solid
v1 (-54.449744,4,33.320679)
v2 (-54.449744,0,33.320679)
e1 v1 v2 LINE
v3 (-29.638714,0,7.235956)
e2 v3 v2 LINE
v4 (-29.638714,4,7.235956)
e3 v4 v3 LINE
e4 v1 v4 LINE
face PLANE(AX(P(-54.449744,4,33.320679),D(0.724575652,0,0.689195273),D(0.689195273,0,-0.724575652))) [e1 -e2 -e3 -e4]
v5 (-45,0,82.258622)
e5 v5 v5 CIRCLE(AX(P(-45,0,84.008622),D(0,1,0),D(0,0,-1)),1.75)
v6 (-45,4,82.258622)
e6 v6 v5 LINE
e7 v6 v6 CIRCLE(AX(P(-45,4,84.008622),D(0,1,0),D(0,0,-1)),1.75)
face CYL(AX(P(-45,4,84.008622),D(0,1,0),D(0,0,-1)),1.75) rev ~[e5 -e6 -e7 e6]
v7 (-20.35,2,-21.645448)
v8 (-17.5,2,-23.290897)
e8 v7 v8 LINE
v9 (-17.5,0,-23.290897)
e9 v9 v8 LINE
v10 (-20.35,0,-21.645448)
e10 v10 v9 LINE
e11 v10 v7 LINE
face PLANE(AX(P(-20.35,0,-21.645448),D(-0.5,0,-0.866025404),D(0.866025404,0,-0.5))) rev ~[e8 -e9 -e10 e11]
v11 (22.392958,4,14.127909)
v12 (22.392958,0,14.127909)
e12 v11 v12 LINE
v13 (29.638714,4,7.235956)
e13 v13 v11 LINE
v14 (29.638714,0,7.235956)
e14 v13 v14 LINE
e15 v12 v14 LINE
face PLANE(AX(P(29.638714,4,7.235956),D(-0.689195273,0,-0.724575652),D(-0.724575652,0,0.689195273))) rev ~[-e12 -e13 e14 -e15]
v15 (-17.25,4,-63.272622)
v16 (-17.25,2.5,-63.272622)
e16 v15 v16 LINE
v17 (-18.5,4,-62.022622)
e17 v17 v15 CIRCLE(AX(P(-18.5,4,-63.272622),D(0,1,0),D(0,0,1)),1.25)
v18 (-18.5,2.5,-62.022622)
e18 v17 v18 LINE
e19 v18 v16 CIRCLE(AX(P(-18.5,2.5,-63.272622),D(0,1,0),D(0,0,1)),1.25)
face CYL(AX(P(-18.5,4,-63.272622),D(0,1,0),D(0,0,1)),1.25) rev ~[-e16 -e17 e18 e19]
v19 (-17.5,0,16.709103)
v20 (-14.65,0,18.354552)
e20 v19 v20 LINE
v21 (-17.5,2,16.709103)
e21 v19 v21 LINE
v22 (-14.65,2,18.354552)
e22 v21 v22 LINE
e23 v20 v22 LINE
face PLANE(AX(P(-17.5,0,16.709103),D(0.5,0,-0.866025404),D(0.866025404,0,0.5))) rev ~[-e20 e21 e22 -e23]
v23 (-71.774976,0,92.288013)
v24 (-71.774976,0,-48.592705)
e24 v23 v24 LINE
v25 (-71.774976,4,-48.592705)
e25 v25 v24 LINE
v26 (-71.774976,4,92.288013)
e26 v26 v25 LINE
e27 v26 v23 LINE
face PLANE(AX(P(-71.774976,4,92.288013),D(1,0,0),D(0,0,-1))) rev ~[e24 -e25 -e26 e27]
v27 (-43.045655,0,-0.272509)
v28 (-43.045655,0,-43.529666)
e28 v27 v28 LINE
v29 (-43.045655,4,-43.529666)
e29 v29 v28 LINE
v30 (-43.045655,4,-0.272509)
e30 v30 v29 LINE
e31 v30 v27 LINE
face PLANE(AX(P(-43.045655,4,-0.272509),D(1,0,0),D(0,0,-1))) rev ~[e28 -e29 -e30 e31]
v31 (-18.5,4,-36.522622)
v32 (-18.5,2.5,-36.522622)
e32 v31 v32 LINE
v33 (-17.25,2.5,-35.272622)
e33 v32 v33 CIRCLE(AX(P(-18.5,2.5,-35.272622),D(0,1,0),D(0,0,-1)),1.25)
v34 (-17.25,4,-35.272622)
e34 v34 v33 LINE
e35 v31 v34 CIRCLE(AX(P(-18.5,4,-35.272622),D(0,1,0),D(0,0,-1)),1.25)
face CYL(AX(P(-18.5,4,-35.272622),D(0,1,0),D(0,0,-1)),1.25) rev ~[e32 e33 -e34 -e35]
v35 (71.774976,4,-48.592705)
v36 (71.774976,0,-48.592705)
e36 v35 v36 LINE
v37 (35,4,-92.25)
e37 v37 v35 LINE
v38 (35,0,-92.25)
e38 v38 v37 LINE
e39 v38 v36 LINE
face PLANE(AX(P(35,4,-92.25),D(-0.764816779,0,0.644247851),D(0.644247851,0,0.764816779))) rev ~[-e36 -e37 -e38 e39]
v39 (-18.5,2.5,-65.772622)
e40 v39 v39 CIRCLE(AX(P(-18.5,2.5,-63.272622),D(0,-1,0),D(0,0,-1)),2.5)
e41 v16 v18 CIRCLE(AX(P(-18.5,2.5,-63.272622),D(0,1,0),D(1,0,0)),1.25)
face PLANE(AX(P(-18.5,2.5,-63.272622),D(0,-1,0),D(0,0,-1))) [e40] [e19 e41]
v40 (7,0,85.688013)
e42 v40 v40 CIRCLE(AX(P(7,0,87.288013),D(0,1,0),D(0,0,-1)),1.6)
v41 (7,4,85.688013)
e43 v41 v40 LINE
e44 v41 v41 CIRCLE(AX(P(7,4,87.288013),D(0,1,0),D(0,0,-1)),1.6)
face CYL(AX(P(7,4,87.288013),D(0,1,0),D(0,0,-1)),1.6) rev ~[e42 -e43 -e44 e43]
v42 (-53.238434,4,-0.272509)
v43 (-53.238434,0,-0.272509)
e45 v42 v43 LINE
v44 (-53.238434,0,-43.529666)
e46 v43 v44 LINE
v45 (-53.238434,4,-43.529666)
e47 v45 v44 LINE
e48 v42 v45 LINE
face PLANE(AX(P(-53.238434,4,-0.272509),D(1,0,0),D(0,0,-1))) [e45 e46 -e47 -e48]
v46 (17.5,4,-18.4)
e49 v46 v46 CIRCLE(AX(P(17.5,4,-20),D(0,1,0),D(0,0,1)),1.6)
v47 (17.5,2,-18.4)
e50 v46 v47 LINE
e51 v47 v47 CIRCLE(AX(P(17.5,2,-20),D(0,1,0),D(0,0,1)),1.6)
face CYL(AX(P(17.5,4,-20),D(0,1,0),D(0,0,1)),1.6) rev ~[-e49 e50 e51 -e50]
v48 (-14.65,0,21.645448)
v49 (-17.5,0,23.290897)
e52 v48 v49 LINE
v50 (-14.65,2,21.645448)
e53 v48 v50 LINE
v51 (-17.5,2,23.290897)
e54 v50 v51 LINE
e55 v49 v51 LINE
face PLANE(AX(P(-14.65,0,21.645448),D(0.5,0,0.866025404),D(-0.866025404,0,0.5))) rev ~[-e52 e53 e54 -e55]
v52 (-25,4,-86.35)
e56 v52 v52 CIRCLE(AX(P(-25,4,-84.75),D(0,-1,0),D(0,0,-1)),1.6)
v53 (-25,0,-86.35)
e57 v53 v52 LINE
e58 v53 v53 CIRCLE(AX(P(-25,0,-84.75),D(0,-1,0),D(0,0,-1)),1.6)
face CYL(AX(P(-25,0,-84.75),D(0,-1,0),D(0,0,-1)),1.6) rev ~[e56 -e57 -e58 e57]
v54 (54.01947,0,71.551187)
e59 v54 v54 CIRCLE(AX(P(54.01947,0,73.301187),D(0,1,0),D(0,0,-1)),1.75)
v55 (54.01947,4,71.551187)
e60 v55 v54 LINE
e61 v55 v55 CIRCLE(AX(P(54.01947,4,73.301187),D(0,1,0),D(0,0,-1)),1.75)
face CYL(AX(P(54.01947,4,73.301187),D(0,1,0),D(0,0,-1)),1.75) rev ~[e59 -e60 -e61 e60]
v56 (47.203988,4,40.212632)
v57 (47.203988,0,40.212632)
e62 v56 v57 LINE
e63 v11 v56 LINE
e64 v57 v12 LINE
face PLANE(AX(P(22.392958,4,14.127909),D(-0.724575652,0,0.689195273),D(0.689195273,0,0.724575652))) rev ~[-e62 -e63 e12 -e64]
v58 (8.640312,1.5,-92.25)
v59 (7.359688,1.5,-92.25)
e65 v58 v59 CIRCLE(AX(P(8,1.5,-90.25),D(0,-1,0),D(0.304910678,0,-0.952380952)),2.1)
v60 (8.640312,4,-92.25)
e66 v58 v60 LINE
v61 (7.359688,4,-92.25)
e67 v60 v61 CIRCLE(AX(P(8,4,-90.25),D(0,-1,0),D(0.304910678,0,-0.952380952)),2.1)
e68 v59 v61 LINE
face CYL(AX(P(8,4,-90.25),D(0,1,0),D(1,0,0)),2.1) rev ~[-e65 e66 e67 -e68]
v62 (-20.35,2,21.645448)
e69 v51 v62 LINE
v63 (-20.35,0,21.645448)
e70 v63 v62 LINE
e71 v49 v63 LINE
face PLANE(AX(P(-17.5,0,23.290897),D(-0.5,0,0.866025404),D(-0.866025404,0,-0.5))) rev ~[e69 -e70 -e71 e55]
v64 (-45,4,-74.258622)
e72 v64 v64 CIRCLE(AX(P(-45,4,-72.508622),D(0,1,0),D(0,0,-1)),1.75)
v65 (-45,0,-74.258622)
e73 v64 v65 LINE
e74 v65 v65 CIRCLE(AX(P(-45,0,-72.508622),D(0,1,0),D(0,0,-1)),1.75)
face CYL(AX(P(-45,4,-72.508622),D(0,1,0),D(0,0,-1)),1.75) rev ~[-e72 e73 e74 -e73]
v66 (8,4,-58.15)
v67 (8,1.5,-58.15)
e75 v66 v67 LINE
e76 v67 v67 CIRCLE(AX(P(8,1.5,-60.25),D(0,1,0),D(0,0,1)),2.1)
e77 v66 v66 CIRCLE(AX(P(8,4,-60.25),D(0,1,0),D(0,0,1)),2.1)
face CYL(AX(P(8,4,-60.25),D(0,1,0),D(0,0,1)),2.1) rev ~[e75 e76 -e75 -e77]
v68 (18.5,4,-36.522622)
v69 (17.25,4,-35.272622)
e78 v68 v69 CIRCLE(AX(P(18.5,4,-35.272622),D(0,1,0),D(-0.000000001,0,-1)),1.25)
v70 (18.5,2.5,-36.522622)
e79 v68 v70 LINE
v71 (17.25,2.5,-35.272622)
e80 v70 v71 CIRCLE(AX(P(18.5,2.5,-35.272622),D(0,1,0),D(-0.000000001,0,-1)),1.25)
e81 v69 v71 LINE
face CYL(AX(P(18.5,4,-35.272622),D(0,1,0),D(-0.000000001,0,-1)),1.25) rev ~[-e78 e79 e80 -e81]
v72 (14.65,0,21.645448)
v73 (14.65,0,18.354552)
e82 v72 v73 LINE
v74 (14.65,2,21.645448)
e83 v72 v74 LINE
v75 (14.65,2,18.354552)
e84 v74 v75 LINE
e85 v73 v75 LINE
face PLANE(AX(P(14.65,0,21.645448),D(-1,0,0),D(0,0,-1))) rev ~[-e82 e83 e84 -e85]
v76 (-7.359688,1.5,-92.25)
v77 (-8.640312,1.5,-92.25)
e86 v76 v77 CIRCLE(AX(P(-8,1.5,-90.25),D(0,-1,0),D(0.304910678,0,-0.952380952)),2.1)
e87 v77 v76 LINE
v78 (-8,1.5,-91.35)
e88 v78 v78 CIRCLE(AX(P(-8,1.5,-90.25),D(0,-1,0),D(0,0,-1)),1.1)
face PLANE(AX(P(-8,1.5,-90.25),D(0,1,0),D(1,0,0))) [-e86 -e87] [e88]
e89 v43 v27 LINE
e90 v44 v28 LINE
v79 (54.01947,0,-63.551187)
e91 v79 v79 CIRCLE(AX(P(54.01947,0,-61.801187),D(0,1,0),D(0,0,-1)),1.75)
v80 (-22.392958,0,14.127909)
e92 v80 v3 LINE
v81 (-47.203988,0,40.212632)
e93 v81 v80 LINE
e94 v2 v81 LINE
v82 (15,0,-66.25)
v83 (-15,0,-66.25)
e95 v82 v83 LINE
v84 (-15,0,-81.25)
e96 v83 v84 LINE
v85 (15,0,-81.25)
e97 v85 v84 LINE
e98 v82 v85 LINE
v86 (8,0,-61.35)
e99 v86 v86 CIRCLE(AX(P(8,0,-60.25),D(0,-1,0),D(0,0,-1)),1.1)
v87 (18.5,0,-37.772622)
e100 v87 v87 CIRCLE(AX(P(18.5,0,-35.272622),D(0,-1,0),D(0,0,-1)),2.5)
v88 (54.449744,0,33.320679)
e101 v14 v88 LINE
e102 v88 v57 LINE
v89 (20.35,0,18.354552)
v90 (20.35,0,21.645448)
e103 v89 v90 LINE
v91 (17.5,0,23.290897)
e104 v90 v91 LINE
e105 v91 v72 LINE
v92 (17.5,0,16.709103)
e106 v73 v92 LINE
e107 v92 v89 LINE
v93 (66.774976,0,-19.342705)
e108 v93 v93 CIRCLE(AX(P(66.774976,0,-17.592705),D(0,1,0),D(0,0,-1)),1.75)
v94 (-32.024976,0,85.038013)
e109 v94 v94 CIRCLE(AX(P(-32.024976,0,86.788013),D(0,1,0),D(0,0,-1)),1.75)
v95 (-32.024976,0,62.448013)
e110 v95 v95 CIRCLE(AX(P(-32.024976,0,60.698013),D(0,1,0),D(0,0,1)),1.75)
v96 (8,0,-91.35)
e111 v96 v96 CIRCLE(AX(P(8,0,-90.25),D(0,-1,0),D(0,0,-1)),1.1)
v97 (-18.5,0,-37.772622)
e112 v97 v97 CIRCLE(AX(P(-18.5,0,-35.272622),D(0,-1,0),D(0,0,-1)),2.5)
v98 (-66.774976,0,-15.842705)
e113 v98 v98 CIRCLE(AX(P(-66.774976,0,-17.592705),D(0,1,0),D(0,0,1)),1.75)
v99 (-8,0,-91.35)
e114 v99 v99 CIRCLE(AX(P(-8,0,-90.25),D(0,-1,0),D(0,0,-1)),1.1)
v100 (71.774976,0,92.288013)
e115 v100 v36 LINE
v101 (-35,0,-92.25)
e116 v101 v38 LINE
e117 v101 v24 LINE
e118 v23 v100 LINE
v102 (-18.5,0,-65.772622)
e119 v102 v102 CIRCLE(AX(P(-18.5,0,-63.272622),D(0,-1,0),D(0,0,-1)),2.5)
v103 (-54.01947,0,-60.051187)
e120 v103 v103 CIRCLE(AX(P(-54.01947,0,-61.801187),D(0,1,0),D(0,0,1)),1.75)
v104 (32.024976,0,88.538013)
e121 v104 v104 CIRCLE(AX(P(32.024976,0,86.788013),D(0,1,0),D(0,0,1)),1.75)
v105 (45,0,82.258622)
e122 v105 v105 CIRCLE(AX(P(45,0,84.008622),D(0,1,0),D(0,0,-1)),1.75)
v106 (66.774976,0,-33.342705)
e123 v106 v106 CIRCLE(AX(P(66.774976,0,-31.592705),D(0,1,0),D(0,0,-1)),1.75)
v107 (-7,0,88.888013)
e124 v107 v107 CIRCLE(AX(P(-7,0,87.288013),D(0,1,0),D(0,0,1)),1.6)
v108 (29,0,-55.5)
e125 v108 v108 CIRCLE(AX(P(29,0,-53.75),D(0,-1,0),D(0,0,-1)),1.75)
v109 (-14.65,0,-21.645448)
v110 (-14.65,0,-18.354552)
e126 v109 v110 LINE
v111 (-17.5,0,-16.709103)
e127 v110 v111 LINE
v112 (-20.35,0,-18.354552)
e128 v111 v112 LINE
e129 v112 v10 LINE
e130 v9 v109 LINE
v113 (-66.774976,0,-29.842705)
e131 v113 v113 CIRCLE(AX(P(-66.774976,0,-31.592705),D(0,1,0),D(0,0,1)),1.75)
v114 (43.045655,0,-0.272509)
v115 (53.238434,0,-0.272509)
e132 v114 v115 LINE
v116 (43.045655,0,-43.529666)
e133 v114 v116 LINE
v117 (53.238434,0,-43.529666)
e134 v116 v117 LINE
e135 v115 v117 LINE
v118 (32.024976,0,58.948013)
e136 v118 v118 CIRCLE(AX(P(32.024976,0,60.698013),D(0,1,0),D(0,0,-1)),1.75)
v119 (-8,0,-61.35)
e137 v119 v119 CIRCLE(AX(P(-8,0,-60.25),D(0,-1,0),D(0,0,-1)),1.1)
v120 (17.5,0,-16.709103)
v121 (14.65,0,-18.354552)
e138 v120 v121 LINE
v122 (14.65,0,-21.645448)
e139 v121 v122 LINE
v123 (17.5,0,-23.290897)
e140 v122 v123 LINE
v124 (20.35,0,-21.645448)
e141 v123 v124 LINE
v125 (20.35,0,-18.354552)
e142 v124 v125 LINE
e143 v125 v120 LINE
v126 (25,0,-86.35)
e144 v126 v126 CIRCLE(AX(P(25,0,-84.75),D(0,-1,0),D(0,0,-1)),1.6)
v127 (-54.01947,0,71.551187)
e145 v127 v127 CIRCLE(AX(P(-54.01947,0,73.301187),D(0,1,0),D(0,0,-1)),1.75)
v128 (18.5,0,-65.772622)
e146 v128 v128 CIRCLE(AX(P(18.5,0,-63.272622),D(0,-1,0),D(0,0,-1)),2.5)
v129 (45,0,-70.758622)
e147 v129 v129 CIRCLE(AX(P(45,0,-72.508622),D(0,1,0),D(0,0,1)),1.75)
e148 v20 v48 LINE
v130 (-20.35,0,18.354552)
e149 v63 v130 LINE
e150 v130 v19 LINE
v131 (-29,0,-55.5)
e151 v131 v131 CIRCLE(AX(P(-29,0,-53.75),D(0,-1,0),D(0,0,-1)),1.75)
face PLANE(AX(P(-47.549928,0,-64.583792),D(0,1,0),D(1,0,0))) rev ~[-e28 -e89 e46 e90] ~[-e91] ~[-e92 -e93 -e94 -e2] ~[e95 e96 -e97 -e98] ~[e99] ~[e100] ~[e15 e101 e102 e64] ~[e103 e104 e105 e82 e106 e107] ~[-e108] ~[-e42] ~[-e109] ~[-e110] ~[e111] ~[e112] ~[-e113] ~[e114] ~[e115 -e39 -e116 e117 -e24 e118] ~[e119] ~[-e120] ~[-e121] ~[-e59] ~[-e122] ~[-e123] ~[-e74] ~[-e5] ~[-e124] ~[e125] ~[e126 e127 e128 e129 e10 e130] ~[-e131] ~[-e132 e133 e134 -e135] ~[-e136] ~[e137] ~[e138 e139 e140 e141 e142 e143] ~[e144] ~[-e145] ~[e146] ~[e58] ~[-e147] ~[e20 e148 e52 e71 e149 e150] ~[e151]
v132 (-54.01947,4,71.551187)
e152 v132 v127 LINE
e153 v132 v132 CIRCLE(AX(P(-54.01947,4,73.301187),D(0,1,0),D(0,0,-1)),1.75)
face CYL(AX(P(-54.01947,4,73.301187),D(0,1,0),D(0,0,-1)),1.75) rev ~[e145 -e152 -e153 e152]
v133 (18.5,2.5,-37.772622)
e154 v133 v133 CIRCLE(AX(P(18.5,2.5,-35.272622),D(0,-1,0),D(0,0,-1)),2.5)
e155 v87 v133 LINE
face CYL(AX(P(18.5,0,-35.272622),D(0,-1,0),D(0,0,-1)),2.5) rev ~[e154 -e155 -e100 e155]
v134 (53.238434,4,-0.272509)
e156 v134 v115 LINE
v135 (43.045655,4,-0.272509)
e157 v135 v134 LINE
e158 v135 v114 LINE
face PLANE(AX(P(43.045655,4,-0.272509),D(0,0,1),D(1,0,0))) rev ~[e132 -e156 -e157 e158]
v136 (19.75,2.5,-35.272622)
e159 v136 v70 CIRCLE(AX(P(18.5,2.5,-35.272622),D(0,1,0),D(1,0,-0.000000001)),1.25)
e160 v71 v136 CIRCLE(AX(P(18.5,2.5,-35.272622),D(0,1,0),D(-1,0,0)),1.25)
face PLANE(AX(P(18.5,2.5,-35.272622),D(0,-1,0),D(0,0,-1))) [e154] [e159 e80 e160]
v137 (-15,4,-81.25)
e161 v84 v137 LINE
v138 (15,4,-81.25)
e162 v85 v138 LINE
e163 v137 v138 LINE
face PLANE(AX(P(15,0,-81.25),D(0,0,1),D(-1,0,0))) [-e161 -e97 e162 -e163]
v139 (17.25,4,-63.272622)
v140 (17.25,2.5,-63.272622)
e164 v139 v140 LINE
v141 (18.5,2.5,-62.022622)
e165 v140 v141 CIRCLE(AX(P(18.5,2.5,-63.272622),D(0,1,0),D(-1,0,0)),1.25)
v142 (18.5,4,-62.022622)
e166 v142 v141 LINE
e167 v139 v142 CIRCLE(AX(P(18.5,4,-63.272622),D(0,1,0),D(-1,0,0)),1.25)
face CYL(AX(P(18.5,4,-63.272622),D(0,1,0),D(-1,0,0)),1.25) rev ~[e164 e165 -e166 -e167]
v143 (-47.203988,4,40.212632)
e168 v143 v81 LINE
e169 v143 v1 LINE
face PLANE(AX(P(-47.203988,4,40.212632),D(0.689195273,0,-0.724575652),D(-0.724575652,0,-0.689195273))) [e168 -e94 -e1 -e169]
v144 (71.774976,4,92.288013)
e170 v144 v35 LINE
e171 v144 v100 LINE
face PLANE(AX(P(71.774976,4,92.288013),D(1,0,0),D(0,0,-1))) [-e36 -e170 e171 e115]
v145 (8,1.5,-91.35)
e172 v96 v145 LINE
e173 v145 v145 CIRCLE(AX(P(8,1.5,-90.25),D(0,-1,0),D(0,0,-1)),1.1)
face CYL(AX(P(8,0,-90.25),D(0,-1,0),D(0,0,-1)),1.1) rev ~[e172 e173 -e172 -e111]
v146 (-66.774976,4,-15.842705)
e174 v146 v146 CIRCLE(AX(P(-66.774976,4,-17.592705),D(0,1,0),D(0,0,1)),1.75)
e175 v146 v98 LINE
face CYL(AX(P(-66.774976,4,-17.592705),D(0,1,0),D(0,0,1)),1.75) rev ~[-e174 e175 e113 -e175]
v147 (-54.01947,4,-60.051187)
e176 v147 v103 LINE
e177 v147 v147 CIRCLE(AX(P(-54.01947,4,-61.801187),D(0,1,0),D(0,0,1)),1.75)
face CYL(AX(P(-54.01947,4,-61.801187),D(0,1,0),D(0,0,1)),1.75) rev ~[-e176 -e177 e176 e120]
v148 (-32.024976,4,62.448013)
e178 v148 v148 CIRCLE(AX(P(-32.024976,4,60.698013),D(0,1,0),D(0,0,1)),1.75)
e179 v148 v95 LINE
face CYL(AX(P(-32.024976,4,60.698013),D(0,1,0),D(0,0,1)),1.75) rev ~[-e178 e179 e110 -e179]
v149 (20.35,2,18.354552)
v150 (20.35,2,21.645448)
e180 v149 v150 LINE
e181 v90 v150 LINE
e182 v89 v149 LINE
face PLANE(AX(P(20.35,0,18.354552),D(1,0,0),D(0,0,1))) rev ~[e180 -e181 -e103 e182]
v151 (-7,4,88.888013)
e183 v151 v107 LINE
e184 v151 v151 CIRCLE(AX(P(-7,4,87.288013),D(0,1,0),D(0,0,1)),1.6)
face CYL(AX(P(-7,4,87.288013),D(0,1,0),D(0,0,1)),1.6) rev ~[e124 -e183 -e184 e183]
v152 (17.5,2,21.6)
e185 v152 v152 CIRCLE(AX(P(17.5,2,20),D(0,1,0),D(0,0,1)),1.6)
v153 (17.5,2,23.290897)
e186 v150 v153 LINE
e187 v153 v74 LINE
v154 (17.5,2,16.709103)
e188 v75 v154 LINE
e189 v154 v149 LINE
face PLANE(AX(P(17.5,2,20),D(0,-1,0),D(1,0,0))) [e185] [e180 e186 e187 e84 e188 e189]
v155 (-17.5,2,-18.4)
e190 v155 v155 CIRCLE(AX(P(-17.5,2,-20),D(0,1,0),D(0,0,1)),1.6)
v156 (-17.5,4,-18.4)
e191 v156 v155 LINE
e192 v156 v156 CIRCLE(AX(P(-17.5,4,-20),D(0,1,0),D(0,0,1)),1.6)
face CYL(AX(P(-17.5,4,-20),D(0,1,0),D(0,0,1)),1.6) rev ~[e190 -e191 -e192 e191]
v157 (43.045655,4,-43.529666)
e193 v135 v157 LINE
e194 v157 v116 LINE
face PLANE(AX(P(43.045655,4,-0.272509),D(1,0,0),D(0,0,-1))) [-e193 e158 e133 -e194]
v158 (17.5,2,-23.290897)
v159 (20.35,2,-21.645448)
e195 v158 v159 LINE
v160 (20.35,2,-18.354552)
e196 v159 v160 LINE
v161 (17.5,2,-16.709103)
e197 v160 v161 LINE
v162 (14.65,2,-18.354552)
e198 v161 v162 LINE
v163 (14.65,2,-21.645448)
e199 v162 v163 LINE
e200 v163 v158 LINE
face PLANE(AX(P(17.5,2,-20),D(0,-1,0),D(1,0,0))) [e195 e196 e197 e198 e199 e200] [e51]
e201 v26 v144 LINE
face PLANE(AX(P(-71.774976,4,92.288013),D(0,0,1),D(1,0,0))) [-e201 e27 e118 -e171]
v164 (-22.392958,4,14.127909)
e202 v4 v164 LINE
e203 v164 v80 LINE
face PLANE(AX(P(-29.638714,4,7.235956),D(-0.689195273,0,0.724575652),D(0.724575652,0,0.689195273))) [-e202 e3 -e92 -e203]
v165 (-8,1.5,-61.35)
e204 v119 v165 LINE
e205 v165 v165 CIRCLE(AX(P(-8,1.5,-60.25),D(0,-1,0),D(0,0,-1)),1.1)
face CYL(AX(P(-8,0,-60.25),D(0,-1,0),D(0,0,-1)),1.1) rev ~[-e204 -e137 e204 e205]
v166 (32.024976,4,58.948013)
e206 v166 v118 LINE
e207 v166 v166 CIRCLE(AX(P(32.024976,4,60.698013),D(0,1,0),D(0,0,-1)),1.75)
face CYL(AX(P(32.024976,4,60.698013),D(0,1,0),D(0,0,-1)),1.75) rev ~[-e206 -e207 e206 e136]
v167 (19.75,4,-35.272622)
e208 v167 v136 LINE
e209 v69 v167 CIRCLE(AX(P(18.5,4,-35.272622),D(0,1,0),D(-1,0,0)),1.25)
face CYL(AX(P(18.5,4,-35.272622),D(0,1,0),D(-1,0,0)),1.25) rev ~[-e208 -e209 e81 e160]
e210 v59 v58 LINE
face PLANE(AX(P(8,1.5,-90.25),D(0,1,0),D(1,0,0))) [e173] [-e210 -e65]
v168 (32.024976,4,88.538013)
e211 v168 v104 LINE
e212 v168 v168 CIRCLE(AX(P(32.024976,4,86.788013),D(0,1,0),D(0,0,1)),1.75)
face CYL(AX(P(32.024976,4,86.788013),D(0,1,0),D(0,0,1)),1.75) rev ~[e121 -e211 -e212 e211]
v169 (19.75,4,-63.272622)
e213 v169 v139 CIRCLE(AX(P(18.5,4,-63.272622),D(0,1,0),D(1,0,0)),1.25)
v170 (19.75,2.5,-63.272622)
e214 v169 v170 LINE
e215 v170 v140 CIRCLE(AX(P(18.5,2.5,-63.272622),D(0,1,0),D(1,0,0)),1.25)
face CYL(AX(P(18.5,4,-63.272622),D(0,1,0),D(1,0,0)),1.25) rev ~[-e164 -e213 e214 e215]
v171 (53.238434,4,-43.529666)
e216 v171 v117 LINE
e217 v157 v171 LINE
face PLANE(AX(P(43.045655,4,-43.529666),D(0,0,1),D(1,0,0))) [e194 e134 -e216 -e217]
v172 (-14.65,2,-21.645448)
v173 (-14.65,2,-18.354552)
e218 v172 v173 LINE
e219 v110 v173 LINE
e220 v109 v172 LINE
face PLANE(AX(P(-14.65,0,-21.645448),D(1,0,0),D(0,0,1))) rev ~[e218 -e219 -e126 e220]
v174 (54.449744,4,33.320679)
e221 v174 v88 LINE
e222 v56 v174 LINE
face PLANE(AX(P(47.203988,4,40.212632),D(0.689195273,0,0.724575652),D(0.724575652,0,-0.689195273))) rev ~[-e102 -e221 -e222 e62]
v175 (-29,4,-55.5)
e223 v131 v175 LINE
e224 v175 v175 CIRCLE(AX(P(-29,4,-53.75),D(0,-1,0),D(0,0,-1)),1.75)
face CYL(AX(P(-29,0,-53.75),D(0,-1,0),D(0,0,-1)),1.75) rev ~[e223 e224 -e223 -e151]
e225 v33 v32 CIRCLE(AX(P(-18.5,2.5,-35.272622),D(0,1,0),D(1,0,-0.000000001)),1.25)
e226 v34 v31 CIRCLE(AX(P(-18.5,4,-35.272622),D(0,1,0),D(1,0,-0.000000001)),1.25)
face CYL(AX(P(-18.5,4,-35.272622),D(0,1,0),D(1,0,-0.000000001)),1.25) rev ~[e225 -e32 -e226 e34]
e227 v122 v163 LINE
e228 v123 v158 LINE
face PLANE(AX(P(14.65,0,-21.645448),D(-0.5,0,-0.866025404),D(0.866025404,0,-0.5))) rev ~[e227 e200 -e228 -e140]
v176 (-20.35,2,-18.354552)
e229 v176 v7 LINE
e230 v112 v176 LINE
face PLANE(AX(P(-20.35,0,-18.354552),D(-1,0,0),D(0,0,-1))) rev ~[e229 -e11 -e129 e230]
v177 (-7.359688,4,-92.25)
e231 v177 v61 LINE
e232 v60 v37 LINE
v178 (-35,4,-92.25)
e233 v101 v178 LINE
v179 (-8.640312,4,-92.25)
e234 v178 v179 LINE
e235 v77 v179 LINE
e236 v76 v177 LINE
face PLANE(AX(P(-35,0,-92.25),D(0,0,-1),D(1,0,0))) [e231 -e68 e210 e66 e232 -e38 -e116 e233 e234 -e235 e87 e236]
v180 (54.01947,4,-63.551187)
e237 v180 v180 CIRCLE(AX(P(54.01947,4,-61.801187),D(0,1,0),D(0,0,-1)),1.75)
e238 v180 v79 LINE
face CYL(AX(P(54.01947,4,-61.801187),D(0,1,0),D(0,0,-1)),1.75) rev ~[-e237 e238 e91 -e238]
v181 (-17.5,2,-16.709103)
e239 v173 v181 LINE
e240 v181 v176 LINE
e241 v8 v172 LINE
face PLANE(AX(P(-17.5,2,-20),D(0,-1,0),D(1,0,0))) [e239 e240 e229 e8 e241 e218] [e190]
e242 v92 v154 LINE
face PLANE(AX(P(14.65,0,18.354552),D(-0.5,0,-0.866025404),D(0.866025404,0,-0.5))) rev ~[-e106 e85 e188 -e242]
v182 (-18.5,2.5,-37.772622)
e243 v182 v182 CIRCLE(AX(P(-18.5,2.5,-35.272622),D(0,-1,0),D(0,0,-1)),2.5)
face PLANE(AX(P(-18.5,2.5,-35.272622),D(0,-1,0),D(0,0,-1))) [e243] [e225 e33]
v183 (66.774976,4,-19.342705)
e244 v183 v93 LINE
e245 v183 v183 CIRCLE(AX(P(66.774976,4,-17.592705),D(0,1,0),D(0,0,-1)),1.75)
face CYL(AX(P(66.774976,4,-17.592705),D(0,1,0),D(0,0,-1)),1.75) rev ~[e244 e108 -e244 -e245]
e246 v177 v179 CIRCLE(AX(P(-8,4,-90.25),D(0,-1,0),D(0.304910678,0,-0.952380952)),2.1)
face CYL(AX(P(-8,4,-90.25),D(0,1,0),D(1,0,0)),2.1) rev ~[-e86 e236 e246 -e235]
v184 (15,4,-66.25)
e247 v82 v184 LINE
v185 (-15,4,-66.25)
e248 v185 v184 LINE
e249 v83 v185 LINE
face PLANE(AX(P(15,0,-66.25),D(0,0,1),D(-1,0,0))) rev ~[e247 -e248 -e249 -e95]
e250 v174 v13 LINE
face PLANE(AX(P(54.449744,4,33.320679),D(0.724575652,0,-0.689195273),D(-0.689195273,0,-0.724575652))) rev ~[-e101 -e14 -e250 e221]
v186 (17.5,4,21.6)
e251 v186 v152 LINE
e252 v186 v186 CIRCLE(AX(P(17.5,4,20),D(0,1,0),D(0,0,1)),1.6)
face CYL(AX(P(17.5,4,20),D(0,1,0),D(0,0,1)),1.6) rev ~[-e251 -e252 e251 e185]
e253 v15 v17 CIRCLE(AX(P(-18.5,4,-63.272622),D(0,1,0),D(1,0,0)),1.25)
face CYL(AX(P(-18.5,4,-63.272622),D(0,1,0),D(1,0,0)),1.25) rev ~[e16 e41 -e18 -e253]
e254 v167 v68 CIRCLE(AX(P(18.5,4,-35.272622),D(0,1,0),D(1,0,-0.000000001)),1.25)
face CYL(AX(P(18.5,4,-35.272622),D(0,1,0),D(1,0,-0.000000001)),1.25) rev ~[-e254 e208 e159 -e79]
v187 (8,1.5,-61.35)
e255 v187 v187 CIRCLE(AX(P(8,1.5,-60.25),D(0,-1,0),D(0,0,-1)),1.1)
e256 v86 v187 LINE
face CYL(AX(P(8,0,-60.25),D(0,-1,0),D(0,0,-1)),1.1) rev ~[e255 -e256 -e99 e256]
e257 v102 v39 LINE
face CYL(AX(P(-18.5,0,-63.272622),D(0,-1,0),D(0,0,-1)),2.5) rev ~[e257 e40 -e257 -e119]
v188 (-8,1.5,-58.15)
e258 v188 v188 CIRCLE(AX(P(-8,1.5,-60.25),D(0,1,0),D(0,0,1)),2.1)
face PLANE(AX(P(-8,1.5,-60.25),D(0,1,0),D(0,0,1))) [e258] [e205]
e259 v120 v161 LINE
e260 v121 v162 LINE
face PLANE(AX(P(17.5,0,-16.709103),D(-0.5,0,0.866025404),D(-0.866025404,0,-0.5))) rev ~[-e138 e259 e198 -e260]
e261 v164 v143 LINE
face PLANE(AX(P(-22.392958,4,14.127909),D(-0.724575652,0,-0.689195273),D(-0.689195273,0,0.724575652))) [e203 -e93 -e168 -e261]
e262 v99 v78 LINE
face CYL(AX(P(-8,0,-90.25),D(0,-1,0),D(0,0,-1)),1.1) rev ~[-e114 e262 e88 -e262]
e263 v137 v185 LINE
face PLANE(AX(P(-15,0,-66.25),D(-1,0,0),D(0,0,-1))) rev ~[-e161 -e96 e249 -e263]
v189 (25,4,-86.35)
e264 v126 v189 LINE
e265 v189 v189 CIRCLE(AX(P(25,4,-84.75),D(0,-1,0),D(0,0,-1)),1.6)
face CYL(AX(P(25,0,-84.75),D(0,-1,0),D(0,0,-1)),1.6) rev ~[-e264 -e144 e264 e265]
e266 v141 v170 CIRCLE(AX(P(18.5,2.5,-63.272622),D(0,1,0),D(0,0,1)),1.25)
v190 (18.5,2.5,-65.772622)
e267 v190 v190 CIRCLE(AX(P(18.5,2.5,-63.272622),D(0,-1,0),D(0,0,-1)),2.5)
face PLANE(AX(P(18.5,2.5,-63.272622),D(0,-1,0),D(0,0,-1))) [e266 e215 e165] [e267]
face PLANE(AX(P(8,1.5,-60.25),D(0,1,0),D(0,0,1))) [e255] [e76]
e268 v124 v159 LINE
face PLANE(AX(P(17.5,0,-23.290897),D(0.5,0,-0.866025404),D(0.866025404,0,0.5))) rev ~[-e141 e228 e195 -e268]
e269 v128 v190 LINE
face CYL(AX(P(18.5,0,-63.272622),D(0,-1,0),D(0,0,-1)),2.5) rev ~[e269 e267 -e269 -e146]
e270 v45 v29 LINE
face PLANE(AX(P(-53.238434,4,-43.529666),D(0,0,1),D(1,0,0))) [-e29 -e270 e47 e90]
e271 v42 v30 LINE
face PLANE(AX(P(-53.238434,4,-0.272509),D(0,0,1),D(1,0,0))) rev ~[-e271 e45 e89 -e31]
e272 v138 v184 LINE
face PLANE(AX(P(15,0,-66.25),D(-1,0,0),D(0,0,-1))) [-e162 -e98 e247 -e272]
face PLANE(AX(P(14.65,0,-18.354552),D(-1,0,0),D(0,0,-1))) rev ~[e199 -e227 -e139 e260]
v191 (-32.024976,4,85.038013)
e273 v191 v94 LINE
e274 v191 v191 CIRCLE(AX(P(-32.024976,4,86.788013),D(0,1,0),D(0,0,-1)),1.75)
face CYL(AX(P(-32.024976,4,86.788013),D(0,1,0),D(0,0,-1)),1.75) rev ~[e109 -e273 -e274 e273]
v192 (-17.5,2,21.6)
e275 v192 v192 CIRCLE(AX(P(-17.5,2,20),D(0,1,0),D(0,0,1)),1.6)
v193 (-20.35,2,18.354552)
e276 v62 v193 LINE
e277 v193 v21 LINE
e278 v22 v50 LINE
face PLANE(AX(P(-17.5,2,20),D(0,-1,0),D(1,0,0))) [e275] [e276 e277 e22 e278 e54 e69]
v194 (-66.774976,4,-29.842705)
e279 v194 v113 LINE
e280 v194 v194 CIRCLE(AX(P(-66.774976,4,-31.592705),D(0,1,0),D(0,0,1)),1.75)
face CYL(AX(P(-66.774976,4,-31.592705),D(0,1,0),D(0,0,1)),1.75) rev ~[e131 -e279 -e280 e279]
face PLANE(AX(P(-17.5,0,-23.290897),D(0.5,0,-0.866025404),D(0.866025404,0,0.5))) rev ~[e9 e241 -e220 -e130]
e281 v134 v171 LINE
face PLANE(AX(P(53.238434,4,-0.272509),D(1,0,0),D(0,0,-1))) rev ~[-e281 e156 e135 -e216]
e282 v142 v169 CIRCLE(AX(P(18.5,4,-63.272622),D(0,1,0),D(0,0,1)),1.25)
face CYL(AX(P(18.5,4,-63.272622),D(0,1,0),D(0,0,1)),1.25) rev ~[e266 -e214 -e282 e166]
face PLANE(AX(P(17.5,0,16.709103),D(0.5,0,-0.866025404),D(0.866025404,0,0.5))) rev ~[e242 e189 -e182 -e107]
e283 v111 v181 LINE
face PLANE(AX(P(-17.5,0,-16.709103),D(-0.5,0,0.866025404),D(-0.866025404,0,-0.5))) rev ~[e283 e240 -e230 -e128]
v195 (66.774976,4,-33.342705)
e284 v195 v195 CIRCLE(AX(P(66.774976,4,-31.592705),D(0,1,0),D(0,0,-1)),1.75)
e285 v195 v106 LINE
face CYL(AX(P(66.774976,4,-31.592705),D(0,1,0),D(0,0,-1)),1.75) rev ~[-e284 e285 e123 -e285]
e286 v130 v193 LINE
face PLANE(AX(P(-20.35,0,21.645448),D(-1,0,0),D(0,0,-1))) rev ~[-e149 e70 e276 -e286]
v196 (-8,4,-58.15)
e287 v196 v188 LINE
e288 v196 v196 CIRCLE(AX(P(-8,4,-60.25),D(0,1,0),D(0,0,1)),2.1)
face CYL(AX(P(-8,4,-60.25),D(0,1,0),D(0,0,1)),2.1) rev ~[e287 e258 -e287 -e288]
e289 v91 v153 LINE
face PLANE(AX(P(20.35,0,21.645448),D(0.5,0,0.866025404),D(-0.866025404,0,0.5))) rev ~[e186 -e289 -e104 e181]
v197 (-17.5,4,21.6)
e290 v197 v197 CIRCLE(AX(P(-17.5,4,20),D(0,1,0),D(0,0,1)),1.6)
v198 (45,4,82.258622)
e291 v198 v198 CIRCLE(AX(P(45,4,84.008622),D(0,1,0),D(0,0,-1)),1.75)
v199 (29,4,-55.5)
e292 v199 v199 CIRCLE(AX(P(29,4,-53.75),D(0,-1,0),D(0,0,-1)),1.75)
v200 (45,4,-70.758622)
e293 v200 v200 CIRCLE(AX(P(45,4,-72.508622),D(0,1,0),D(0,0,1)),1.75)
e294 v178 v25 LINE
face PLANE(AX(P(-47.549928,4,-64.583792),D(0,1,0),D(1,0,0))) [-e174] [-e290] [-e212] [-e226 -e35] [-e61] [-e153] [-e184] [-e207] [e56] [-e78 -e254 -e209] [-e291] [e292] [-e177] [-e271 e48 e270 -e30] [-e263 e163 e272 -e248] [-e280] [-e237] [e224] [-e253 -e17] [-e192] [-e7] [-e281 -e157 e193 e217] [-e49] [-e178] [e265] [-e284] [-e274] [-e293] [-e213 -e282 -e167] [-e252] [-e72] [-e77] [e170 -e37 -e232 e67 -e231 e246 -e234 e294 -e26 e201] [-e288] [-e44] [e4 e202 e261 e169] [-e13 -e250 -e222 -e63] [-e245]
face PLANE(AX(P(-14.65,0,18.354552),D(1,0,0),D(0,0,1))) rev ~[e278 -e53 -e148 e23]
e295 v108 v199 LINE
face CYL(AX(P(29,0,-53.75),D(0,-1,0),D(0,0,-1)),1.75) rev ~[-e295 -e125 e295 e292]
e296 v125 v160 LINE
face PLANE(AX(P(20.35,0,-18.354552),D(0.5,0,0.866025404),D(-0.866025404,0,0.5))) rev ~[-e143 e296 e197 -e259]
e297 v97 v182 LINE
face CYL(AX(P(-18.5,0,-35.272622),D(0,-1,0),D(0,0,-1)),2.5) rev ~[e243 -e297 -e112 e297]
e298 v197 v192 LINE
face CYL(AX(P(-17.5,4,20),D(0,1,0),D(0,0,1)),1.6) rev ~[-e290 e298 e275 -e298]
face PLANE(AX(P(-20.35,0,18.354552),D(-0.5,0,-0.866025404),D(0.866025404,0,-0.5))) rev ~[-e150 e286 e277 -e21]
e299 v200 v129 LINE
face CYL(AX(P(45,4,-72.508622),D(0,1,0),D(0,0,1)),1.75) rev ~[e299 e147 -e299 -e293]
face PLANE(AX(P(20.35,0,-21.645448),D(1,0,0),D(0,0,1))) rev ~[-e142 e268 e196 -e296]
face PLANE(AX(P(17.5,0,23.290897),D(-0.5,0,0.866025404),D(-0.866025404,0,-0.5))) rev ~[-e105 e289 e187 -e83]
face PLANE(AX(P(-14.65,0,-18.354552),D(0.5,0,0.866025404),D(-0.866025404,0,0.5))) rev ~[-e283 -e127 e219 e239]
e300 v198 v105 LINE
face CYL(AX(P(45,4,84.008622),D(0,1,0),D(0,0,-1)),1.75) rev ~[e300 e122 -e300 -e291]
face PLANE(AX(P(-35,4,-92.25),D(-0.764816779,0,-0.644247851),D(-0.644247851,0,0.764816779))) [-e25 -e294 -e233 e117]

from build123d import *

# Parameters (mm, degrees)
SKETCH1_W           = 70
SKETCH1_H           = 184.5
BOSS_EXTRUDE1_DEPTH = 4
SKETCH2_R           = 1.6
SKETCH2_R_2         = 1.1
SKETCH2_R_3         = 1.75
SKETCH2_W           = 30
SKETCH2_H           = 15
CUT_EXTRUDE1_DEPTH  = 10
SKETCH3_W           = 143.549952052
SKETCH3_H           = 140.880717629
BOSS_EXTRUDE2_DEPTH = 4
SKETCH4_R           = 1.75
BOSS_EXTRUDE3_DEPTH = 4
SKETCH5_R           = 1.75
CUT_EXTRUDE2_DEPTH  = 6
CUT_EXTRUDE4_REACH  = 118.982
SKETCH8_R           = 2.1
CUT_EXTRUDE7_DEPTH  = 2.5
SKETCH9_R           = 1.75
CUT_EXTRUDE8_DEPTH  = 12
SKETCH10_R          = 1.75
SKETCH10_W          = 10.192778524
SKETCH10_H          = 43.257157637
CUT_EXTRUDE9_DEPTH  = 10
SKETCH11_R          = 1.6
CUT_EXTRUDE10_DEPTH = 10
CUT_EXTRUDE11_DEPTH = 2
CUT_EXTRUDE12_DEPTH = 12
SKETCH14_R          = 1.6
CUT_EXTRUDE13_DEPTH = 12
SKETCH15_R          = 2.5
CUT_EXTRUDE14_DEPTH = 2.5


with BuildPart() as part:
    # Sketch1 → Boss-Extrude1 (new body)
    with BuildSketch(Plane(origin=(0, 0, 0), x_dir=(1, 0, 0), z_dir=(0, 1, 0))):
        Rectangle(SKETCH1_W, SKETCH1_H)
    extrude(amount=BOSS_EXTRUDE1_DEPTH)

    # Sketch2 → Cut-Extrude1 (cut)
    with BuildSketch(Plane(origin=(0, 0, 0), x_dir=(-1, 0, 0), z_dir=(0, -1, 0))):
        with Locations(Location((25, 84.75, 0), (0, 0, 90))):
            Circle(SKETCH2_R)
        with Locations(Location((-25, 84.75, 0), (0, 0, 90))):
            Circle(SKETCH2_R)
        with Locations(Location((-8, 90.25, 0), (0, 0, 90))):
            Circle(SKETCH2_R_2)
        with Locations(Location((8, 90.25, 0), (0, 0, 90))):
            Circle(SKETCH2_R_2)
        with Locations(Location((-8, 60.25, 0), (0, 0, 90))):
            Circle(SKETCH2_R_2)
        with Locations(Location((8, 60.25, 0), (0, 0, 90))):
            Circle(SKETCH2_R_2)
        with Locations(Location((29, 53.75, 0), (0, 0, 90))):
            Circle(SKETCH2_R_3)
        with Locations(Location((-29, 53.75, 0), (0, 0, 90))):
            Circle(SKETCH2_R_3)
        with Locations((0, 73.75)):
            Rectangle(SKETCH2_W, SKETCH2_H)
    extrude(amount=-CUT_EXTRUDE1_DEPTH, mode=Mode.SUBTRACT)

    # Sketch3 → Boss-Extrude2 (add)
    with BuildSketch(Plane(origin=(0, 4, 0), x_dir=(1, 0, 0), z_dir=(0, 1, 0))):
        with Locations((0, -21.847654169)):
            Rectangle(SKETCH3_W, SKETCH3_H)
    extrude(amount=-BOSS_EXTRUDE2_DEPTH)

    # Sketch4 → Boss-Extrude3 (add)
    # profile 1 of 2: a face of its own
    with BuildSketch(Plane(origin=(0, 4, 0), x_dir=(1, 0, 0), z_dir=(0, 1, 0))):
        Polygon((-35, 92.25), (-71.774976026, 48.592704646), (-35, 48.592704646), align=None)
        with Locations(Location((-45, 72.508621997, 0), (0, 0, 90))):
            Circle(SKETCH4_R, mode=Mode.SUBTRACT)
        with Locations(Location((-54.019469919, 61.801187085, 0), (0, 0, 270))):
            Circle(SKETCH4_R, mode=Mode.SUBTRACT)
    # profile 2 of 2: a face of its own
    with BuildSketch(Plane(origin=(0, 4, 0), x_dir=(1, 0, 0), z_dir=(0, 1, 0))):
        Polygon((71.774976026, 48.592704646), (35, 48.592704646), (35, 92.25), align=None)
        with Locations(Location((45, 72.508621997, 0), (0, 0, 270))):
            Circle(SKETCH4_R, mode=Mode.SUBTRACT)
        with Locations(Location((54.019469919, 61.801187085, 0), (0, 0, 90))):
            Circle(SKETCH4_R, mode=Mode.SUBTRACT)
    extrude(amount=-BOSS_EXTRUDE3_DEPTH)

    # Sketch5 → Cut-Extrude2 (cut)
    with BuildSketch(Plane(origin=(0, 4, 0), x_dir=(1, 0, 0), z_dir=(0, 1, 0))):
        with Locations(Location((32.024976026, -86.788012983, 0), (0, 0, 270))):
            Circle(SKETCH5_R)
        with Locations(Location((-32.024976026, -86.788012983, 0), (0, 0, 90))):
            Circle(SKETCH5_R)
    extrude(amount=-CUT_EXTRUDE2_DEPTH, mode=Mode.SUBTRACT)

    # Sketch7 → Cut-Extrude4 (cut, up to next)
    with BuildSketch(Plane(origin=(0, 4, 0), x_dir=(1, 0, 0), z_dir=(0, 1, 0)), mode=Mode.PRIVATE) as cut_extrude4_sk1:
        Polygon((-29.63871425, -7.235955991), (-22.392957727, -14.127908719), (-47.203987548, -40.212632203), (-54.449744071, -33.320679475), align=None)
    cut_extrude4_tool1 = extrude(cut_extrude4_sk1.sketch, amount=-CUT_EXTRUDE4_REACH, mode=Mode.PRIVATE) & part.part
    # Sketch7 → Cut-Extrude4 (cut, up to next)
    with BuildSketch(Plane(origin=(0, 4, 0), x_dir=(1, 0, 0), z_dir=(0, 1, 0)), mode=Mode.PRIVATE) as cut_extrude4_sk2:
        Polygon((54.449744071, -33.320679475), (29.63871425, -7.235955991), (22.392957727, -14.127908719), (47.203987548, -40.212632203), align=None)
    cut_extrude4_tool2 = extrude(cut_extrude4_sk2.sketch, amount=-CUT_EXTRUDE4_REACH, mode=Mode.PRIVATE) & part.part
    add(cut_extrude4_tool1.solids().sort_by_distance((-38.421351, 4, 23.724294))[0], mode=Mode.SUBTRACT)
    add(cut_extrude4_tool2.solids().sort_by_distance((38.421351, 4, 23.724294))[0], mode=Mode.SUBTRACT)

    # Sketch8 → Cut-Extrude7 (cut)
    with BuildSketch(Plane(origin=(0, 4, 0), x_dir=(1, 0, 0), z_dir=(0, 1, 0))):
        with Locations((-8, 90.25)):
            Circle(SKETCH8_R)
        with Locations((8, 90.25)):
            Circle(SKETCH8_R)
        with Locations(Location((-8, 60.25, 0), (0, 0, 270))):
            Circle(SKETCH8_R)
        with Locations(Location((8, 60.25, 0), (0, 0, 270))):
            Circle(SKETCH8_R)
    extrude(amount=-CUT_EXTRUDE7_DEPTH, mode=Mode.SUBTRACT)

    # Sketch9 → Cut-Extrude8 (cut)
    with BuildSketch(Plane(origin=(0, 4, 0), x_dir=(1, 0, 0), z_dir=(0, 1, 0))):
        with Locations(Location((-32.024976026, -60.698012983, 0), (0, 0, 270))):
            Circle(SKETCH9_R)
        with Locations(Location((32.024976026, -60.698012983, 0), (0, 0, 90))):
            Circle(SKETCH9_R)
    extrude(amount=-CUT_EXTRUDE8_DEPTH, mode=Mode.SUBTRACT)

    # Sketch10 → Cut-Extrude9 (cut)
    with BuildSketch(Plane(origin=(0, 4, 0), x_dir=(1, 0, 0), z_dir=(0, 1, 0))):
        with Locations(Location((-66.774976026, 31.592704646, 0), (0, 0, 270))):
            Circle(SKETCH10_R)
        with Locations(Location((-66.774976026, 17.592704646, 0), (0, 0, 270))):
            Circle(SKETCH10_R)
        with Locations(Location((66.774976026, 31.592704646, 0), (0, 0, 90))):
            Circle(SKETCH10_R)
        with Locations(Location((66.774976026, 17.592704646, 0), (0, 0, 90))):
            Circle(SKETCH10_R)
        with Locations(Location((-54.019469919, 61.801187085, 0), (0, 0, 270))):
            Circle(SKETCH10_R)
        with Locations(Location((-45, 72.508621997, 0), (0, 0, 90))):
            Circle(SKETCH10_R)
        with Locations(Location((45, 72.508621997, 0), (0, 0, 270))):
            Circle(SKETCH10_R)
        with Locations(Location((54.019469919, 61.801187085, 0), (0, 0, 90))):
            Circle(SKETCH10_R)
        with Locations(Location((54.019469919, -73.301187085, 0), (0, 0, 90))):
            Circle(SKETCH10_R)
        with Locations(Location((45, -84.008621997, 0), (0, 0, 90))):
            Circle(SKETCH10_R)
        with Locations(Location((-45, -84.008621997, 0), (0, 0, 90))):
            Circle(SKETCH10_R)
        with Locations(Location((-54.019469919, -73.301187085, 0), (0, 0, 90))):
            Circle(SKETCH10_R)
        with Locations((48.142044334, 21.901087456)):
            Rectangle(SKETCH10_W, SKETCH10_H)
        with Locations((-48.142044334, 21.901087456)):
            Rectangle(SKETCH10_W, SKETCH10_H)
    extrude(amount=-CUT_EXTRUDE9_DEPTH, mode=Mode.SUBTRACT)

    # Sketch11 → Cut-Extrude10 (cut)
    with BuildSketch(Plane(origin=(0, 4, 0), x_dir=(1, 0, 0), z_dir=(0, 1, 0))):
        with Locations(Location((-17.5, 20, 0), (0, 0, 270))):
            Circle(SKETCH11_R)
        with Locations(Location((17.5, 20, 0), (0, 0, 270))):
            Circle(SKETCH11_R)
        with Locations(Location((-17.5, -20, 0), (0, 0, 270))):
            Circle(SKETCH11_R)
        with Locations(Location((17.5, -20, 0), (0, 0, 270))):
            Circle(SKETCH11_R)
    extrude(amount=-CUT_EXTRUDE10_DEPTH, mode=Mode.SUBTRACT)

    # Sketch12 → Cut-Extrude11 (cut)
    with BuildSketch(Plane.XZ):
        Polygon((-14.65, -21.645448267), (-14.65, -18.354551733), (-17.5, -16.709103466), (-20.35, -18.354551733), (-20.35, -21.645448267), (-17.5, -23.290896534), align=None)
        Polygon((17.5, -23.290896534), (20.35, -21.645448267), (20.35, -18.354551733), (17.5, -16.709103466), (14.65, -18.354551733), (14.65, -21.645448267), align=None)
        Polygon((-17.5, 16.709103466), (-14.65, 18.354551733), (-14.65, 21.645448267), (-17.5, 23.290896534), (-20.35, 21.645448267), (-20.35, 18.354551733), align=None)
        Polygon((17.5, 23.290896534), (14.65, 21.645448267), (14.65, 18.354551733), (17.5, 16.709103466), (20.35, 18.354551733), (20.35, 21.645448267), align=None)
    extrude(amount=-CUT_EXTRUDE11_DEPTH, mode=Mode.SUBTRACT)

    # Sketch13 → Cut-Extrude12 (cut)
    with BuildSketch(Plane(origin=(0, 4, 0), x_dir=(1, 0, 0), z_dir=(0, 1, 0))):
        with BuildLine():
            ThreePointArc((-17.25, 35.272622101), (-17.616116524, 36.156505577), (-18.5, 36.522622101))
            Line((-18.5, 36.522622101), (-18.5, 35.272622101))
            Line((-18.5, 35.272622101), (-17.25, 35.272622101))
        make_face()
        with BuildLine():
            Line((-18.5, 35.272622101), (-18.5, 36.522622101))
            ThreePointArc((-18.5, 36.522622101), (-19.383883476, 34.388738624), (-17.25, 35.272622101))
            Line((-17.25, 35.272622101), (-18.5, 35.272622101))
        make_face()
        with BuildLine():
            ThreePointArc((19.75, 35.272622101), (19.383883476, 36.156505577), (18.5, 36.522622101))
            Line((18.5, 36.522622101), (18.5, 35.272622101))
            Line((18.5, 35.272622101), (17.25, 35.272622101))
            ThreePointArc((17.25, 35.272622101), (18.5, 34.022622101), (19.75, 35.272622101))
        make_face()
        with BuildLine():
            Line((18.5, 35.272622101), (18.5, 36.522622101))
            ThreePointArc((18.5, 36.522622101), (17.616116524, 36.156505577), (17.25, 35.272622101))
            Line((17.25, 35.272622101), (18.5, 35.272622101))
        make_face()
        with BuildLine():
            ThreePointArc((19.75, 63.272622101), (18.5, 64.522622101), (17.25, 63.272622101))
            Line((17.25, 63.272622101), (18.5, 63.272622101))
            Line((18.5, 63.272622101), (18.5, 62.022622101))
            ThreePointArc((18.5, 62.022622101), (19.383883476, 62.388738624), (19.75, 63.272622101))
        make_face()
        with BuildLine():
            Line((18.5, 63.272622101), (17.25, 63.272622101))
            ThreePointArc((17.25, 63.272622101), (17.616116524, 62.388738624), (18.5, 62.022622101))
            Line((18.5, 62.022622101), (18.5, 63.272622101))
        make_face()
        with BuildLine():
            Line((-18.5, 62.022622101), (-18.5, 63.272622101))
            Line((-18.5, 63.272622101), (-17.25, 63.272622101))
            ThreePointArc((-17.25, 63.272622101), (-19.383883476, 64.156505577), (-18.5, 62.022622101))
        make_face()
        with BuildLine():
            Line((-17.25, 63.272622101), (-18.5, 63.272622101))
            Line((-18.5, 63.272622101), (-18.5, 62.022622101))
            ThreePointArc((-18.5, 62.022622101), (-17.616116524, 62.388738624), (-17.25, 63.272622101))
        make_face()
    extrude(amount=-CUT_EXTRUDE12_DEPTH, mode=Mode.SUBTRACT)

    # Sketch14 → Cut-Extrude13 (cut)
    with BuildSketch(Plane(origin=(0, 4, 0), x_dir=(1, 0, 0), z_dir=(0, 1, 0))):
        with Locations(Location((-7, -87.288012983, 0), (0, 0, 270))):
            Circle(SKETCH14_R)
        with Locations(Location((7, -87.288012983, 0), (0, 0, 90))):
            Circle(SKETCH14_R)
    extrude(amount=-CUT_EXTRUDE13_DEPTH, mode=Mode.SUBTRACT)

    # Sketch15 → Cut-Extrude14 (cut)
    with BuildSketch(Plane.XZ):
        with Locations(Location((-18.5, -35.272622101, 0), (0, 0, 270))):
            Circle(SKETCH15_R)
        with Locations(Location((18.5, -35.272622101, 0), (0, 0, 270))):
            Circle(SKETCH15_R)
        with Locations(Location((-18.5, -63.272622101, 0), (0, 0, 270))):
            Circle(SKETCH15_R)
        with Locations(Location((18.5, -63.272622101, 0), (0, 0, 270))):
            Circle(SKETCH15_R)
    extrude(amount=-CUT_EXTRUDE14_DEPTH, mode=Mode.SUBTRACT)


solid = part.part
